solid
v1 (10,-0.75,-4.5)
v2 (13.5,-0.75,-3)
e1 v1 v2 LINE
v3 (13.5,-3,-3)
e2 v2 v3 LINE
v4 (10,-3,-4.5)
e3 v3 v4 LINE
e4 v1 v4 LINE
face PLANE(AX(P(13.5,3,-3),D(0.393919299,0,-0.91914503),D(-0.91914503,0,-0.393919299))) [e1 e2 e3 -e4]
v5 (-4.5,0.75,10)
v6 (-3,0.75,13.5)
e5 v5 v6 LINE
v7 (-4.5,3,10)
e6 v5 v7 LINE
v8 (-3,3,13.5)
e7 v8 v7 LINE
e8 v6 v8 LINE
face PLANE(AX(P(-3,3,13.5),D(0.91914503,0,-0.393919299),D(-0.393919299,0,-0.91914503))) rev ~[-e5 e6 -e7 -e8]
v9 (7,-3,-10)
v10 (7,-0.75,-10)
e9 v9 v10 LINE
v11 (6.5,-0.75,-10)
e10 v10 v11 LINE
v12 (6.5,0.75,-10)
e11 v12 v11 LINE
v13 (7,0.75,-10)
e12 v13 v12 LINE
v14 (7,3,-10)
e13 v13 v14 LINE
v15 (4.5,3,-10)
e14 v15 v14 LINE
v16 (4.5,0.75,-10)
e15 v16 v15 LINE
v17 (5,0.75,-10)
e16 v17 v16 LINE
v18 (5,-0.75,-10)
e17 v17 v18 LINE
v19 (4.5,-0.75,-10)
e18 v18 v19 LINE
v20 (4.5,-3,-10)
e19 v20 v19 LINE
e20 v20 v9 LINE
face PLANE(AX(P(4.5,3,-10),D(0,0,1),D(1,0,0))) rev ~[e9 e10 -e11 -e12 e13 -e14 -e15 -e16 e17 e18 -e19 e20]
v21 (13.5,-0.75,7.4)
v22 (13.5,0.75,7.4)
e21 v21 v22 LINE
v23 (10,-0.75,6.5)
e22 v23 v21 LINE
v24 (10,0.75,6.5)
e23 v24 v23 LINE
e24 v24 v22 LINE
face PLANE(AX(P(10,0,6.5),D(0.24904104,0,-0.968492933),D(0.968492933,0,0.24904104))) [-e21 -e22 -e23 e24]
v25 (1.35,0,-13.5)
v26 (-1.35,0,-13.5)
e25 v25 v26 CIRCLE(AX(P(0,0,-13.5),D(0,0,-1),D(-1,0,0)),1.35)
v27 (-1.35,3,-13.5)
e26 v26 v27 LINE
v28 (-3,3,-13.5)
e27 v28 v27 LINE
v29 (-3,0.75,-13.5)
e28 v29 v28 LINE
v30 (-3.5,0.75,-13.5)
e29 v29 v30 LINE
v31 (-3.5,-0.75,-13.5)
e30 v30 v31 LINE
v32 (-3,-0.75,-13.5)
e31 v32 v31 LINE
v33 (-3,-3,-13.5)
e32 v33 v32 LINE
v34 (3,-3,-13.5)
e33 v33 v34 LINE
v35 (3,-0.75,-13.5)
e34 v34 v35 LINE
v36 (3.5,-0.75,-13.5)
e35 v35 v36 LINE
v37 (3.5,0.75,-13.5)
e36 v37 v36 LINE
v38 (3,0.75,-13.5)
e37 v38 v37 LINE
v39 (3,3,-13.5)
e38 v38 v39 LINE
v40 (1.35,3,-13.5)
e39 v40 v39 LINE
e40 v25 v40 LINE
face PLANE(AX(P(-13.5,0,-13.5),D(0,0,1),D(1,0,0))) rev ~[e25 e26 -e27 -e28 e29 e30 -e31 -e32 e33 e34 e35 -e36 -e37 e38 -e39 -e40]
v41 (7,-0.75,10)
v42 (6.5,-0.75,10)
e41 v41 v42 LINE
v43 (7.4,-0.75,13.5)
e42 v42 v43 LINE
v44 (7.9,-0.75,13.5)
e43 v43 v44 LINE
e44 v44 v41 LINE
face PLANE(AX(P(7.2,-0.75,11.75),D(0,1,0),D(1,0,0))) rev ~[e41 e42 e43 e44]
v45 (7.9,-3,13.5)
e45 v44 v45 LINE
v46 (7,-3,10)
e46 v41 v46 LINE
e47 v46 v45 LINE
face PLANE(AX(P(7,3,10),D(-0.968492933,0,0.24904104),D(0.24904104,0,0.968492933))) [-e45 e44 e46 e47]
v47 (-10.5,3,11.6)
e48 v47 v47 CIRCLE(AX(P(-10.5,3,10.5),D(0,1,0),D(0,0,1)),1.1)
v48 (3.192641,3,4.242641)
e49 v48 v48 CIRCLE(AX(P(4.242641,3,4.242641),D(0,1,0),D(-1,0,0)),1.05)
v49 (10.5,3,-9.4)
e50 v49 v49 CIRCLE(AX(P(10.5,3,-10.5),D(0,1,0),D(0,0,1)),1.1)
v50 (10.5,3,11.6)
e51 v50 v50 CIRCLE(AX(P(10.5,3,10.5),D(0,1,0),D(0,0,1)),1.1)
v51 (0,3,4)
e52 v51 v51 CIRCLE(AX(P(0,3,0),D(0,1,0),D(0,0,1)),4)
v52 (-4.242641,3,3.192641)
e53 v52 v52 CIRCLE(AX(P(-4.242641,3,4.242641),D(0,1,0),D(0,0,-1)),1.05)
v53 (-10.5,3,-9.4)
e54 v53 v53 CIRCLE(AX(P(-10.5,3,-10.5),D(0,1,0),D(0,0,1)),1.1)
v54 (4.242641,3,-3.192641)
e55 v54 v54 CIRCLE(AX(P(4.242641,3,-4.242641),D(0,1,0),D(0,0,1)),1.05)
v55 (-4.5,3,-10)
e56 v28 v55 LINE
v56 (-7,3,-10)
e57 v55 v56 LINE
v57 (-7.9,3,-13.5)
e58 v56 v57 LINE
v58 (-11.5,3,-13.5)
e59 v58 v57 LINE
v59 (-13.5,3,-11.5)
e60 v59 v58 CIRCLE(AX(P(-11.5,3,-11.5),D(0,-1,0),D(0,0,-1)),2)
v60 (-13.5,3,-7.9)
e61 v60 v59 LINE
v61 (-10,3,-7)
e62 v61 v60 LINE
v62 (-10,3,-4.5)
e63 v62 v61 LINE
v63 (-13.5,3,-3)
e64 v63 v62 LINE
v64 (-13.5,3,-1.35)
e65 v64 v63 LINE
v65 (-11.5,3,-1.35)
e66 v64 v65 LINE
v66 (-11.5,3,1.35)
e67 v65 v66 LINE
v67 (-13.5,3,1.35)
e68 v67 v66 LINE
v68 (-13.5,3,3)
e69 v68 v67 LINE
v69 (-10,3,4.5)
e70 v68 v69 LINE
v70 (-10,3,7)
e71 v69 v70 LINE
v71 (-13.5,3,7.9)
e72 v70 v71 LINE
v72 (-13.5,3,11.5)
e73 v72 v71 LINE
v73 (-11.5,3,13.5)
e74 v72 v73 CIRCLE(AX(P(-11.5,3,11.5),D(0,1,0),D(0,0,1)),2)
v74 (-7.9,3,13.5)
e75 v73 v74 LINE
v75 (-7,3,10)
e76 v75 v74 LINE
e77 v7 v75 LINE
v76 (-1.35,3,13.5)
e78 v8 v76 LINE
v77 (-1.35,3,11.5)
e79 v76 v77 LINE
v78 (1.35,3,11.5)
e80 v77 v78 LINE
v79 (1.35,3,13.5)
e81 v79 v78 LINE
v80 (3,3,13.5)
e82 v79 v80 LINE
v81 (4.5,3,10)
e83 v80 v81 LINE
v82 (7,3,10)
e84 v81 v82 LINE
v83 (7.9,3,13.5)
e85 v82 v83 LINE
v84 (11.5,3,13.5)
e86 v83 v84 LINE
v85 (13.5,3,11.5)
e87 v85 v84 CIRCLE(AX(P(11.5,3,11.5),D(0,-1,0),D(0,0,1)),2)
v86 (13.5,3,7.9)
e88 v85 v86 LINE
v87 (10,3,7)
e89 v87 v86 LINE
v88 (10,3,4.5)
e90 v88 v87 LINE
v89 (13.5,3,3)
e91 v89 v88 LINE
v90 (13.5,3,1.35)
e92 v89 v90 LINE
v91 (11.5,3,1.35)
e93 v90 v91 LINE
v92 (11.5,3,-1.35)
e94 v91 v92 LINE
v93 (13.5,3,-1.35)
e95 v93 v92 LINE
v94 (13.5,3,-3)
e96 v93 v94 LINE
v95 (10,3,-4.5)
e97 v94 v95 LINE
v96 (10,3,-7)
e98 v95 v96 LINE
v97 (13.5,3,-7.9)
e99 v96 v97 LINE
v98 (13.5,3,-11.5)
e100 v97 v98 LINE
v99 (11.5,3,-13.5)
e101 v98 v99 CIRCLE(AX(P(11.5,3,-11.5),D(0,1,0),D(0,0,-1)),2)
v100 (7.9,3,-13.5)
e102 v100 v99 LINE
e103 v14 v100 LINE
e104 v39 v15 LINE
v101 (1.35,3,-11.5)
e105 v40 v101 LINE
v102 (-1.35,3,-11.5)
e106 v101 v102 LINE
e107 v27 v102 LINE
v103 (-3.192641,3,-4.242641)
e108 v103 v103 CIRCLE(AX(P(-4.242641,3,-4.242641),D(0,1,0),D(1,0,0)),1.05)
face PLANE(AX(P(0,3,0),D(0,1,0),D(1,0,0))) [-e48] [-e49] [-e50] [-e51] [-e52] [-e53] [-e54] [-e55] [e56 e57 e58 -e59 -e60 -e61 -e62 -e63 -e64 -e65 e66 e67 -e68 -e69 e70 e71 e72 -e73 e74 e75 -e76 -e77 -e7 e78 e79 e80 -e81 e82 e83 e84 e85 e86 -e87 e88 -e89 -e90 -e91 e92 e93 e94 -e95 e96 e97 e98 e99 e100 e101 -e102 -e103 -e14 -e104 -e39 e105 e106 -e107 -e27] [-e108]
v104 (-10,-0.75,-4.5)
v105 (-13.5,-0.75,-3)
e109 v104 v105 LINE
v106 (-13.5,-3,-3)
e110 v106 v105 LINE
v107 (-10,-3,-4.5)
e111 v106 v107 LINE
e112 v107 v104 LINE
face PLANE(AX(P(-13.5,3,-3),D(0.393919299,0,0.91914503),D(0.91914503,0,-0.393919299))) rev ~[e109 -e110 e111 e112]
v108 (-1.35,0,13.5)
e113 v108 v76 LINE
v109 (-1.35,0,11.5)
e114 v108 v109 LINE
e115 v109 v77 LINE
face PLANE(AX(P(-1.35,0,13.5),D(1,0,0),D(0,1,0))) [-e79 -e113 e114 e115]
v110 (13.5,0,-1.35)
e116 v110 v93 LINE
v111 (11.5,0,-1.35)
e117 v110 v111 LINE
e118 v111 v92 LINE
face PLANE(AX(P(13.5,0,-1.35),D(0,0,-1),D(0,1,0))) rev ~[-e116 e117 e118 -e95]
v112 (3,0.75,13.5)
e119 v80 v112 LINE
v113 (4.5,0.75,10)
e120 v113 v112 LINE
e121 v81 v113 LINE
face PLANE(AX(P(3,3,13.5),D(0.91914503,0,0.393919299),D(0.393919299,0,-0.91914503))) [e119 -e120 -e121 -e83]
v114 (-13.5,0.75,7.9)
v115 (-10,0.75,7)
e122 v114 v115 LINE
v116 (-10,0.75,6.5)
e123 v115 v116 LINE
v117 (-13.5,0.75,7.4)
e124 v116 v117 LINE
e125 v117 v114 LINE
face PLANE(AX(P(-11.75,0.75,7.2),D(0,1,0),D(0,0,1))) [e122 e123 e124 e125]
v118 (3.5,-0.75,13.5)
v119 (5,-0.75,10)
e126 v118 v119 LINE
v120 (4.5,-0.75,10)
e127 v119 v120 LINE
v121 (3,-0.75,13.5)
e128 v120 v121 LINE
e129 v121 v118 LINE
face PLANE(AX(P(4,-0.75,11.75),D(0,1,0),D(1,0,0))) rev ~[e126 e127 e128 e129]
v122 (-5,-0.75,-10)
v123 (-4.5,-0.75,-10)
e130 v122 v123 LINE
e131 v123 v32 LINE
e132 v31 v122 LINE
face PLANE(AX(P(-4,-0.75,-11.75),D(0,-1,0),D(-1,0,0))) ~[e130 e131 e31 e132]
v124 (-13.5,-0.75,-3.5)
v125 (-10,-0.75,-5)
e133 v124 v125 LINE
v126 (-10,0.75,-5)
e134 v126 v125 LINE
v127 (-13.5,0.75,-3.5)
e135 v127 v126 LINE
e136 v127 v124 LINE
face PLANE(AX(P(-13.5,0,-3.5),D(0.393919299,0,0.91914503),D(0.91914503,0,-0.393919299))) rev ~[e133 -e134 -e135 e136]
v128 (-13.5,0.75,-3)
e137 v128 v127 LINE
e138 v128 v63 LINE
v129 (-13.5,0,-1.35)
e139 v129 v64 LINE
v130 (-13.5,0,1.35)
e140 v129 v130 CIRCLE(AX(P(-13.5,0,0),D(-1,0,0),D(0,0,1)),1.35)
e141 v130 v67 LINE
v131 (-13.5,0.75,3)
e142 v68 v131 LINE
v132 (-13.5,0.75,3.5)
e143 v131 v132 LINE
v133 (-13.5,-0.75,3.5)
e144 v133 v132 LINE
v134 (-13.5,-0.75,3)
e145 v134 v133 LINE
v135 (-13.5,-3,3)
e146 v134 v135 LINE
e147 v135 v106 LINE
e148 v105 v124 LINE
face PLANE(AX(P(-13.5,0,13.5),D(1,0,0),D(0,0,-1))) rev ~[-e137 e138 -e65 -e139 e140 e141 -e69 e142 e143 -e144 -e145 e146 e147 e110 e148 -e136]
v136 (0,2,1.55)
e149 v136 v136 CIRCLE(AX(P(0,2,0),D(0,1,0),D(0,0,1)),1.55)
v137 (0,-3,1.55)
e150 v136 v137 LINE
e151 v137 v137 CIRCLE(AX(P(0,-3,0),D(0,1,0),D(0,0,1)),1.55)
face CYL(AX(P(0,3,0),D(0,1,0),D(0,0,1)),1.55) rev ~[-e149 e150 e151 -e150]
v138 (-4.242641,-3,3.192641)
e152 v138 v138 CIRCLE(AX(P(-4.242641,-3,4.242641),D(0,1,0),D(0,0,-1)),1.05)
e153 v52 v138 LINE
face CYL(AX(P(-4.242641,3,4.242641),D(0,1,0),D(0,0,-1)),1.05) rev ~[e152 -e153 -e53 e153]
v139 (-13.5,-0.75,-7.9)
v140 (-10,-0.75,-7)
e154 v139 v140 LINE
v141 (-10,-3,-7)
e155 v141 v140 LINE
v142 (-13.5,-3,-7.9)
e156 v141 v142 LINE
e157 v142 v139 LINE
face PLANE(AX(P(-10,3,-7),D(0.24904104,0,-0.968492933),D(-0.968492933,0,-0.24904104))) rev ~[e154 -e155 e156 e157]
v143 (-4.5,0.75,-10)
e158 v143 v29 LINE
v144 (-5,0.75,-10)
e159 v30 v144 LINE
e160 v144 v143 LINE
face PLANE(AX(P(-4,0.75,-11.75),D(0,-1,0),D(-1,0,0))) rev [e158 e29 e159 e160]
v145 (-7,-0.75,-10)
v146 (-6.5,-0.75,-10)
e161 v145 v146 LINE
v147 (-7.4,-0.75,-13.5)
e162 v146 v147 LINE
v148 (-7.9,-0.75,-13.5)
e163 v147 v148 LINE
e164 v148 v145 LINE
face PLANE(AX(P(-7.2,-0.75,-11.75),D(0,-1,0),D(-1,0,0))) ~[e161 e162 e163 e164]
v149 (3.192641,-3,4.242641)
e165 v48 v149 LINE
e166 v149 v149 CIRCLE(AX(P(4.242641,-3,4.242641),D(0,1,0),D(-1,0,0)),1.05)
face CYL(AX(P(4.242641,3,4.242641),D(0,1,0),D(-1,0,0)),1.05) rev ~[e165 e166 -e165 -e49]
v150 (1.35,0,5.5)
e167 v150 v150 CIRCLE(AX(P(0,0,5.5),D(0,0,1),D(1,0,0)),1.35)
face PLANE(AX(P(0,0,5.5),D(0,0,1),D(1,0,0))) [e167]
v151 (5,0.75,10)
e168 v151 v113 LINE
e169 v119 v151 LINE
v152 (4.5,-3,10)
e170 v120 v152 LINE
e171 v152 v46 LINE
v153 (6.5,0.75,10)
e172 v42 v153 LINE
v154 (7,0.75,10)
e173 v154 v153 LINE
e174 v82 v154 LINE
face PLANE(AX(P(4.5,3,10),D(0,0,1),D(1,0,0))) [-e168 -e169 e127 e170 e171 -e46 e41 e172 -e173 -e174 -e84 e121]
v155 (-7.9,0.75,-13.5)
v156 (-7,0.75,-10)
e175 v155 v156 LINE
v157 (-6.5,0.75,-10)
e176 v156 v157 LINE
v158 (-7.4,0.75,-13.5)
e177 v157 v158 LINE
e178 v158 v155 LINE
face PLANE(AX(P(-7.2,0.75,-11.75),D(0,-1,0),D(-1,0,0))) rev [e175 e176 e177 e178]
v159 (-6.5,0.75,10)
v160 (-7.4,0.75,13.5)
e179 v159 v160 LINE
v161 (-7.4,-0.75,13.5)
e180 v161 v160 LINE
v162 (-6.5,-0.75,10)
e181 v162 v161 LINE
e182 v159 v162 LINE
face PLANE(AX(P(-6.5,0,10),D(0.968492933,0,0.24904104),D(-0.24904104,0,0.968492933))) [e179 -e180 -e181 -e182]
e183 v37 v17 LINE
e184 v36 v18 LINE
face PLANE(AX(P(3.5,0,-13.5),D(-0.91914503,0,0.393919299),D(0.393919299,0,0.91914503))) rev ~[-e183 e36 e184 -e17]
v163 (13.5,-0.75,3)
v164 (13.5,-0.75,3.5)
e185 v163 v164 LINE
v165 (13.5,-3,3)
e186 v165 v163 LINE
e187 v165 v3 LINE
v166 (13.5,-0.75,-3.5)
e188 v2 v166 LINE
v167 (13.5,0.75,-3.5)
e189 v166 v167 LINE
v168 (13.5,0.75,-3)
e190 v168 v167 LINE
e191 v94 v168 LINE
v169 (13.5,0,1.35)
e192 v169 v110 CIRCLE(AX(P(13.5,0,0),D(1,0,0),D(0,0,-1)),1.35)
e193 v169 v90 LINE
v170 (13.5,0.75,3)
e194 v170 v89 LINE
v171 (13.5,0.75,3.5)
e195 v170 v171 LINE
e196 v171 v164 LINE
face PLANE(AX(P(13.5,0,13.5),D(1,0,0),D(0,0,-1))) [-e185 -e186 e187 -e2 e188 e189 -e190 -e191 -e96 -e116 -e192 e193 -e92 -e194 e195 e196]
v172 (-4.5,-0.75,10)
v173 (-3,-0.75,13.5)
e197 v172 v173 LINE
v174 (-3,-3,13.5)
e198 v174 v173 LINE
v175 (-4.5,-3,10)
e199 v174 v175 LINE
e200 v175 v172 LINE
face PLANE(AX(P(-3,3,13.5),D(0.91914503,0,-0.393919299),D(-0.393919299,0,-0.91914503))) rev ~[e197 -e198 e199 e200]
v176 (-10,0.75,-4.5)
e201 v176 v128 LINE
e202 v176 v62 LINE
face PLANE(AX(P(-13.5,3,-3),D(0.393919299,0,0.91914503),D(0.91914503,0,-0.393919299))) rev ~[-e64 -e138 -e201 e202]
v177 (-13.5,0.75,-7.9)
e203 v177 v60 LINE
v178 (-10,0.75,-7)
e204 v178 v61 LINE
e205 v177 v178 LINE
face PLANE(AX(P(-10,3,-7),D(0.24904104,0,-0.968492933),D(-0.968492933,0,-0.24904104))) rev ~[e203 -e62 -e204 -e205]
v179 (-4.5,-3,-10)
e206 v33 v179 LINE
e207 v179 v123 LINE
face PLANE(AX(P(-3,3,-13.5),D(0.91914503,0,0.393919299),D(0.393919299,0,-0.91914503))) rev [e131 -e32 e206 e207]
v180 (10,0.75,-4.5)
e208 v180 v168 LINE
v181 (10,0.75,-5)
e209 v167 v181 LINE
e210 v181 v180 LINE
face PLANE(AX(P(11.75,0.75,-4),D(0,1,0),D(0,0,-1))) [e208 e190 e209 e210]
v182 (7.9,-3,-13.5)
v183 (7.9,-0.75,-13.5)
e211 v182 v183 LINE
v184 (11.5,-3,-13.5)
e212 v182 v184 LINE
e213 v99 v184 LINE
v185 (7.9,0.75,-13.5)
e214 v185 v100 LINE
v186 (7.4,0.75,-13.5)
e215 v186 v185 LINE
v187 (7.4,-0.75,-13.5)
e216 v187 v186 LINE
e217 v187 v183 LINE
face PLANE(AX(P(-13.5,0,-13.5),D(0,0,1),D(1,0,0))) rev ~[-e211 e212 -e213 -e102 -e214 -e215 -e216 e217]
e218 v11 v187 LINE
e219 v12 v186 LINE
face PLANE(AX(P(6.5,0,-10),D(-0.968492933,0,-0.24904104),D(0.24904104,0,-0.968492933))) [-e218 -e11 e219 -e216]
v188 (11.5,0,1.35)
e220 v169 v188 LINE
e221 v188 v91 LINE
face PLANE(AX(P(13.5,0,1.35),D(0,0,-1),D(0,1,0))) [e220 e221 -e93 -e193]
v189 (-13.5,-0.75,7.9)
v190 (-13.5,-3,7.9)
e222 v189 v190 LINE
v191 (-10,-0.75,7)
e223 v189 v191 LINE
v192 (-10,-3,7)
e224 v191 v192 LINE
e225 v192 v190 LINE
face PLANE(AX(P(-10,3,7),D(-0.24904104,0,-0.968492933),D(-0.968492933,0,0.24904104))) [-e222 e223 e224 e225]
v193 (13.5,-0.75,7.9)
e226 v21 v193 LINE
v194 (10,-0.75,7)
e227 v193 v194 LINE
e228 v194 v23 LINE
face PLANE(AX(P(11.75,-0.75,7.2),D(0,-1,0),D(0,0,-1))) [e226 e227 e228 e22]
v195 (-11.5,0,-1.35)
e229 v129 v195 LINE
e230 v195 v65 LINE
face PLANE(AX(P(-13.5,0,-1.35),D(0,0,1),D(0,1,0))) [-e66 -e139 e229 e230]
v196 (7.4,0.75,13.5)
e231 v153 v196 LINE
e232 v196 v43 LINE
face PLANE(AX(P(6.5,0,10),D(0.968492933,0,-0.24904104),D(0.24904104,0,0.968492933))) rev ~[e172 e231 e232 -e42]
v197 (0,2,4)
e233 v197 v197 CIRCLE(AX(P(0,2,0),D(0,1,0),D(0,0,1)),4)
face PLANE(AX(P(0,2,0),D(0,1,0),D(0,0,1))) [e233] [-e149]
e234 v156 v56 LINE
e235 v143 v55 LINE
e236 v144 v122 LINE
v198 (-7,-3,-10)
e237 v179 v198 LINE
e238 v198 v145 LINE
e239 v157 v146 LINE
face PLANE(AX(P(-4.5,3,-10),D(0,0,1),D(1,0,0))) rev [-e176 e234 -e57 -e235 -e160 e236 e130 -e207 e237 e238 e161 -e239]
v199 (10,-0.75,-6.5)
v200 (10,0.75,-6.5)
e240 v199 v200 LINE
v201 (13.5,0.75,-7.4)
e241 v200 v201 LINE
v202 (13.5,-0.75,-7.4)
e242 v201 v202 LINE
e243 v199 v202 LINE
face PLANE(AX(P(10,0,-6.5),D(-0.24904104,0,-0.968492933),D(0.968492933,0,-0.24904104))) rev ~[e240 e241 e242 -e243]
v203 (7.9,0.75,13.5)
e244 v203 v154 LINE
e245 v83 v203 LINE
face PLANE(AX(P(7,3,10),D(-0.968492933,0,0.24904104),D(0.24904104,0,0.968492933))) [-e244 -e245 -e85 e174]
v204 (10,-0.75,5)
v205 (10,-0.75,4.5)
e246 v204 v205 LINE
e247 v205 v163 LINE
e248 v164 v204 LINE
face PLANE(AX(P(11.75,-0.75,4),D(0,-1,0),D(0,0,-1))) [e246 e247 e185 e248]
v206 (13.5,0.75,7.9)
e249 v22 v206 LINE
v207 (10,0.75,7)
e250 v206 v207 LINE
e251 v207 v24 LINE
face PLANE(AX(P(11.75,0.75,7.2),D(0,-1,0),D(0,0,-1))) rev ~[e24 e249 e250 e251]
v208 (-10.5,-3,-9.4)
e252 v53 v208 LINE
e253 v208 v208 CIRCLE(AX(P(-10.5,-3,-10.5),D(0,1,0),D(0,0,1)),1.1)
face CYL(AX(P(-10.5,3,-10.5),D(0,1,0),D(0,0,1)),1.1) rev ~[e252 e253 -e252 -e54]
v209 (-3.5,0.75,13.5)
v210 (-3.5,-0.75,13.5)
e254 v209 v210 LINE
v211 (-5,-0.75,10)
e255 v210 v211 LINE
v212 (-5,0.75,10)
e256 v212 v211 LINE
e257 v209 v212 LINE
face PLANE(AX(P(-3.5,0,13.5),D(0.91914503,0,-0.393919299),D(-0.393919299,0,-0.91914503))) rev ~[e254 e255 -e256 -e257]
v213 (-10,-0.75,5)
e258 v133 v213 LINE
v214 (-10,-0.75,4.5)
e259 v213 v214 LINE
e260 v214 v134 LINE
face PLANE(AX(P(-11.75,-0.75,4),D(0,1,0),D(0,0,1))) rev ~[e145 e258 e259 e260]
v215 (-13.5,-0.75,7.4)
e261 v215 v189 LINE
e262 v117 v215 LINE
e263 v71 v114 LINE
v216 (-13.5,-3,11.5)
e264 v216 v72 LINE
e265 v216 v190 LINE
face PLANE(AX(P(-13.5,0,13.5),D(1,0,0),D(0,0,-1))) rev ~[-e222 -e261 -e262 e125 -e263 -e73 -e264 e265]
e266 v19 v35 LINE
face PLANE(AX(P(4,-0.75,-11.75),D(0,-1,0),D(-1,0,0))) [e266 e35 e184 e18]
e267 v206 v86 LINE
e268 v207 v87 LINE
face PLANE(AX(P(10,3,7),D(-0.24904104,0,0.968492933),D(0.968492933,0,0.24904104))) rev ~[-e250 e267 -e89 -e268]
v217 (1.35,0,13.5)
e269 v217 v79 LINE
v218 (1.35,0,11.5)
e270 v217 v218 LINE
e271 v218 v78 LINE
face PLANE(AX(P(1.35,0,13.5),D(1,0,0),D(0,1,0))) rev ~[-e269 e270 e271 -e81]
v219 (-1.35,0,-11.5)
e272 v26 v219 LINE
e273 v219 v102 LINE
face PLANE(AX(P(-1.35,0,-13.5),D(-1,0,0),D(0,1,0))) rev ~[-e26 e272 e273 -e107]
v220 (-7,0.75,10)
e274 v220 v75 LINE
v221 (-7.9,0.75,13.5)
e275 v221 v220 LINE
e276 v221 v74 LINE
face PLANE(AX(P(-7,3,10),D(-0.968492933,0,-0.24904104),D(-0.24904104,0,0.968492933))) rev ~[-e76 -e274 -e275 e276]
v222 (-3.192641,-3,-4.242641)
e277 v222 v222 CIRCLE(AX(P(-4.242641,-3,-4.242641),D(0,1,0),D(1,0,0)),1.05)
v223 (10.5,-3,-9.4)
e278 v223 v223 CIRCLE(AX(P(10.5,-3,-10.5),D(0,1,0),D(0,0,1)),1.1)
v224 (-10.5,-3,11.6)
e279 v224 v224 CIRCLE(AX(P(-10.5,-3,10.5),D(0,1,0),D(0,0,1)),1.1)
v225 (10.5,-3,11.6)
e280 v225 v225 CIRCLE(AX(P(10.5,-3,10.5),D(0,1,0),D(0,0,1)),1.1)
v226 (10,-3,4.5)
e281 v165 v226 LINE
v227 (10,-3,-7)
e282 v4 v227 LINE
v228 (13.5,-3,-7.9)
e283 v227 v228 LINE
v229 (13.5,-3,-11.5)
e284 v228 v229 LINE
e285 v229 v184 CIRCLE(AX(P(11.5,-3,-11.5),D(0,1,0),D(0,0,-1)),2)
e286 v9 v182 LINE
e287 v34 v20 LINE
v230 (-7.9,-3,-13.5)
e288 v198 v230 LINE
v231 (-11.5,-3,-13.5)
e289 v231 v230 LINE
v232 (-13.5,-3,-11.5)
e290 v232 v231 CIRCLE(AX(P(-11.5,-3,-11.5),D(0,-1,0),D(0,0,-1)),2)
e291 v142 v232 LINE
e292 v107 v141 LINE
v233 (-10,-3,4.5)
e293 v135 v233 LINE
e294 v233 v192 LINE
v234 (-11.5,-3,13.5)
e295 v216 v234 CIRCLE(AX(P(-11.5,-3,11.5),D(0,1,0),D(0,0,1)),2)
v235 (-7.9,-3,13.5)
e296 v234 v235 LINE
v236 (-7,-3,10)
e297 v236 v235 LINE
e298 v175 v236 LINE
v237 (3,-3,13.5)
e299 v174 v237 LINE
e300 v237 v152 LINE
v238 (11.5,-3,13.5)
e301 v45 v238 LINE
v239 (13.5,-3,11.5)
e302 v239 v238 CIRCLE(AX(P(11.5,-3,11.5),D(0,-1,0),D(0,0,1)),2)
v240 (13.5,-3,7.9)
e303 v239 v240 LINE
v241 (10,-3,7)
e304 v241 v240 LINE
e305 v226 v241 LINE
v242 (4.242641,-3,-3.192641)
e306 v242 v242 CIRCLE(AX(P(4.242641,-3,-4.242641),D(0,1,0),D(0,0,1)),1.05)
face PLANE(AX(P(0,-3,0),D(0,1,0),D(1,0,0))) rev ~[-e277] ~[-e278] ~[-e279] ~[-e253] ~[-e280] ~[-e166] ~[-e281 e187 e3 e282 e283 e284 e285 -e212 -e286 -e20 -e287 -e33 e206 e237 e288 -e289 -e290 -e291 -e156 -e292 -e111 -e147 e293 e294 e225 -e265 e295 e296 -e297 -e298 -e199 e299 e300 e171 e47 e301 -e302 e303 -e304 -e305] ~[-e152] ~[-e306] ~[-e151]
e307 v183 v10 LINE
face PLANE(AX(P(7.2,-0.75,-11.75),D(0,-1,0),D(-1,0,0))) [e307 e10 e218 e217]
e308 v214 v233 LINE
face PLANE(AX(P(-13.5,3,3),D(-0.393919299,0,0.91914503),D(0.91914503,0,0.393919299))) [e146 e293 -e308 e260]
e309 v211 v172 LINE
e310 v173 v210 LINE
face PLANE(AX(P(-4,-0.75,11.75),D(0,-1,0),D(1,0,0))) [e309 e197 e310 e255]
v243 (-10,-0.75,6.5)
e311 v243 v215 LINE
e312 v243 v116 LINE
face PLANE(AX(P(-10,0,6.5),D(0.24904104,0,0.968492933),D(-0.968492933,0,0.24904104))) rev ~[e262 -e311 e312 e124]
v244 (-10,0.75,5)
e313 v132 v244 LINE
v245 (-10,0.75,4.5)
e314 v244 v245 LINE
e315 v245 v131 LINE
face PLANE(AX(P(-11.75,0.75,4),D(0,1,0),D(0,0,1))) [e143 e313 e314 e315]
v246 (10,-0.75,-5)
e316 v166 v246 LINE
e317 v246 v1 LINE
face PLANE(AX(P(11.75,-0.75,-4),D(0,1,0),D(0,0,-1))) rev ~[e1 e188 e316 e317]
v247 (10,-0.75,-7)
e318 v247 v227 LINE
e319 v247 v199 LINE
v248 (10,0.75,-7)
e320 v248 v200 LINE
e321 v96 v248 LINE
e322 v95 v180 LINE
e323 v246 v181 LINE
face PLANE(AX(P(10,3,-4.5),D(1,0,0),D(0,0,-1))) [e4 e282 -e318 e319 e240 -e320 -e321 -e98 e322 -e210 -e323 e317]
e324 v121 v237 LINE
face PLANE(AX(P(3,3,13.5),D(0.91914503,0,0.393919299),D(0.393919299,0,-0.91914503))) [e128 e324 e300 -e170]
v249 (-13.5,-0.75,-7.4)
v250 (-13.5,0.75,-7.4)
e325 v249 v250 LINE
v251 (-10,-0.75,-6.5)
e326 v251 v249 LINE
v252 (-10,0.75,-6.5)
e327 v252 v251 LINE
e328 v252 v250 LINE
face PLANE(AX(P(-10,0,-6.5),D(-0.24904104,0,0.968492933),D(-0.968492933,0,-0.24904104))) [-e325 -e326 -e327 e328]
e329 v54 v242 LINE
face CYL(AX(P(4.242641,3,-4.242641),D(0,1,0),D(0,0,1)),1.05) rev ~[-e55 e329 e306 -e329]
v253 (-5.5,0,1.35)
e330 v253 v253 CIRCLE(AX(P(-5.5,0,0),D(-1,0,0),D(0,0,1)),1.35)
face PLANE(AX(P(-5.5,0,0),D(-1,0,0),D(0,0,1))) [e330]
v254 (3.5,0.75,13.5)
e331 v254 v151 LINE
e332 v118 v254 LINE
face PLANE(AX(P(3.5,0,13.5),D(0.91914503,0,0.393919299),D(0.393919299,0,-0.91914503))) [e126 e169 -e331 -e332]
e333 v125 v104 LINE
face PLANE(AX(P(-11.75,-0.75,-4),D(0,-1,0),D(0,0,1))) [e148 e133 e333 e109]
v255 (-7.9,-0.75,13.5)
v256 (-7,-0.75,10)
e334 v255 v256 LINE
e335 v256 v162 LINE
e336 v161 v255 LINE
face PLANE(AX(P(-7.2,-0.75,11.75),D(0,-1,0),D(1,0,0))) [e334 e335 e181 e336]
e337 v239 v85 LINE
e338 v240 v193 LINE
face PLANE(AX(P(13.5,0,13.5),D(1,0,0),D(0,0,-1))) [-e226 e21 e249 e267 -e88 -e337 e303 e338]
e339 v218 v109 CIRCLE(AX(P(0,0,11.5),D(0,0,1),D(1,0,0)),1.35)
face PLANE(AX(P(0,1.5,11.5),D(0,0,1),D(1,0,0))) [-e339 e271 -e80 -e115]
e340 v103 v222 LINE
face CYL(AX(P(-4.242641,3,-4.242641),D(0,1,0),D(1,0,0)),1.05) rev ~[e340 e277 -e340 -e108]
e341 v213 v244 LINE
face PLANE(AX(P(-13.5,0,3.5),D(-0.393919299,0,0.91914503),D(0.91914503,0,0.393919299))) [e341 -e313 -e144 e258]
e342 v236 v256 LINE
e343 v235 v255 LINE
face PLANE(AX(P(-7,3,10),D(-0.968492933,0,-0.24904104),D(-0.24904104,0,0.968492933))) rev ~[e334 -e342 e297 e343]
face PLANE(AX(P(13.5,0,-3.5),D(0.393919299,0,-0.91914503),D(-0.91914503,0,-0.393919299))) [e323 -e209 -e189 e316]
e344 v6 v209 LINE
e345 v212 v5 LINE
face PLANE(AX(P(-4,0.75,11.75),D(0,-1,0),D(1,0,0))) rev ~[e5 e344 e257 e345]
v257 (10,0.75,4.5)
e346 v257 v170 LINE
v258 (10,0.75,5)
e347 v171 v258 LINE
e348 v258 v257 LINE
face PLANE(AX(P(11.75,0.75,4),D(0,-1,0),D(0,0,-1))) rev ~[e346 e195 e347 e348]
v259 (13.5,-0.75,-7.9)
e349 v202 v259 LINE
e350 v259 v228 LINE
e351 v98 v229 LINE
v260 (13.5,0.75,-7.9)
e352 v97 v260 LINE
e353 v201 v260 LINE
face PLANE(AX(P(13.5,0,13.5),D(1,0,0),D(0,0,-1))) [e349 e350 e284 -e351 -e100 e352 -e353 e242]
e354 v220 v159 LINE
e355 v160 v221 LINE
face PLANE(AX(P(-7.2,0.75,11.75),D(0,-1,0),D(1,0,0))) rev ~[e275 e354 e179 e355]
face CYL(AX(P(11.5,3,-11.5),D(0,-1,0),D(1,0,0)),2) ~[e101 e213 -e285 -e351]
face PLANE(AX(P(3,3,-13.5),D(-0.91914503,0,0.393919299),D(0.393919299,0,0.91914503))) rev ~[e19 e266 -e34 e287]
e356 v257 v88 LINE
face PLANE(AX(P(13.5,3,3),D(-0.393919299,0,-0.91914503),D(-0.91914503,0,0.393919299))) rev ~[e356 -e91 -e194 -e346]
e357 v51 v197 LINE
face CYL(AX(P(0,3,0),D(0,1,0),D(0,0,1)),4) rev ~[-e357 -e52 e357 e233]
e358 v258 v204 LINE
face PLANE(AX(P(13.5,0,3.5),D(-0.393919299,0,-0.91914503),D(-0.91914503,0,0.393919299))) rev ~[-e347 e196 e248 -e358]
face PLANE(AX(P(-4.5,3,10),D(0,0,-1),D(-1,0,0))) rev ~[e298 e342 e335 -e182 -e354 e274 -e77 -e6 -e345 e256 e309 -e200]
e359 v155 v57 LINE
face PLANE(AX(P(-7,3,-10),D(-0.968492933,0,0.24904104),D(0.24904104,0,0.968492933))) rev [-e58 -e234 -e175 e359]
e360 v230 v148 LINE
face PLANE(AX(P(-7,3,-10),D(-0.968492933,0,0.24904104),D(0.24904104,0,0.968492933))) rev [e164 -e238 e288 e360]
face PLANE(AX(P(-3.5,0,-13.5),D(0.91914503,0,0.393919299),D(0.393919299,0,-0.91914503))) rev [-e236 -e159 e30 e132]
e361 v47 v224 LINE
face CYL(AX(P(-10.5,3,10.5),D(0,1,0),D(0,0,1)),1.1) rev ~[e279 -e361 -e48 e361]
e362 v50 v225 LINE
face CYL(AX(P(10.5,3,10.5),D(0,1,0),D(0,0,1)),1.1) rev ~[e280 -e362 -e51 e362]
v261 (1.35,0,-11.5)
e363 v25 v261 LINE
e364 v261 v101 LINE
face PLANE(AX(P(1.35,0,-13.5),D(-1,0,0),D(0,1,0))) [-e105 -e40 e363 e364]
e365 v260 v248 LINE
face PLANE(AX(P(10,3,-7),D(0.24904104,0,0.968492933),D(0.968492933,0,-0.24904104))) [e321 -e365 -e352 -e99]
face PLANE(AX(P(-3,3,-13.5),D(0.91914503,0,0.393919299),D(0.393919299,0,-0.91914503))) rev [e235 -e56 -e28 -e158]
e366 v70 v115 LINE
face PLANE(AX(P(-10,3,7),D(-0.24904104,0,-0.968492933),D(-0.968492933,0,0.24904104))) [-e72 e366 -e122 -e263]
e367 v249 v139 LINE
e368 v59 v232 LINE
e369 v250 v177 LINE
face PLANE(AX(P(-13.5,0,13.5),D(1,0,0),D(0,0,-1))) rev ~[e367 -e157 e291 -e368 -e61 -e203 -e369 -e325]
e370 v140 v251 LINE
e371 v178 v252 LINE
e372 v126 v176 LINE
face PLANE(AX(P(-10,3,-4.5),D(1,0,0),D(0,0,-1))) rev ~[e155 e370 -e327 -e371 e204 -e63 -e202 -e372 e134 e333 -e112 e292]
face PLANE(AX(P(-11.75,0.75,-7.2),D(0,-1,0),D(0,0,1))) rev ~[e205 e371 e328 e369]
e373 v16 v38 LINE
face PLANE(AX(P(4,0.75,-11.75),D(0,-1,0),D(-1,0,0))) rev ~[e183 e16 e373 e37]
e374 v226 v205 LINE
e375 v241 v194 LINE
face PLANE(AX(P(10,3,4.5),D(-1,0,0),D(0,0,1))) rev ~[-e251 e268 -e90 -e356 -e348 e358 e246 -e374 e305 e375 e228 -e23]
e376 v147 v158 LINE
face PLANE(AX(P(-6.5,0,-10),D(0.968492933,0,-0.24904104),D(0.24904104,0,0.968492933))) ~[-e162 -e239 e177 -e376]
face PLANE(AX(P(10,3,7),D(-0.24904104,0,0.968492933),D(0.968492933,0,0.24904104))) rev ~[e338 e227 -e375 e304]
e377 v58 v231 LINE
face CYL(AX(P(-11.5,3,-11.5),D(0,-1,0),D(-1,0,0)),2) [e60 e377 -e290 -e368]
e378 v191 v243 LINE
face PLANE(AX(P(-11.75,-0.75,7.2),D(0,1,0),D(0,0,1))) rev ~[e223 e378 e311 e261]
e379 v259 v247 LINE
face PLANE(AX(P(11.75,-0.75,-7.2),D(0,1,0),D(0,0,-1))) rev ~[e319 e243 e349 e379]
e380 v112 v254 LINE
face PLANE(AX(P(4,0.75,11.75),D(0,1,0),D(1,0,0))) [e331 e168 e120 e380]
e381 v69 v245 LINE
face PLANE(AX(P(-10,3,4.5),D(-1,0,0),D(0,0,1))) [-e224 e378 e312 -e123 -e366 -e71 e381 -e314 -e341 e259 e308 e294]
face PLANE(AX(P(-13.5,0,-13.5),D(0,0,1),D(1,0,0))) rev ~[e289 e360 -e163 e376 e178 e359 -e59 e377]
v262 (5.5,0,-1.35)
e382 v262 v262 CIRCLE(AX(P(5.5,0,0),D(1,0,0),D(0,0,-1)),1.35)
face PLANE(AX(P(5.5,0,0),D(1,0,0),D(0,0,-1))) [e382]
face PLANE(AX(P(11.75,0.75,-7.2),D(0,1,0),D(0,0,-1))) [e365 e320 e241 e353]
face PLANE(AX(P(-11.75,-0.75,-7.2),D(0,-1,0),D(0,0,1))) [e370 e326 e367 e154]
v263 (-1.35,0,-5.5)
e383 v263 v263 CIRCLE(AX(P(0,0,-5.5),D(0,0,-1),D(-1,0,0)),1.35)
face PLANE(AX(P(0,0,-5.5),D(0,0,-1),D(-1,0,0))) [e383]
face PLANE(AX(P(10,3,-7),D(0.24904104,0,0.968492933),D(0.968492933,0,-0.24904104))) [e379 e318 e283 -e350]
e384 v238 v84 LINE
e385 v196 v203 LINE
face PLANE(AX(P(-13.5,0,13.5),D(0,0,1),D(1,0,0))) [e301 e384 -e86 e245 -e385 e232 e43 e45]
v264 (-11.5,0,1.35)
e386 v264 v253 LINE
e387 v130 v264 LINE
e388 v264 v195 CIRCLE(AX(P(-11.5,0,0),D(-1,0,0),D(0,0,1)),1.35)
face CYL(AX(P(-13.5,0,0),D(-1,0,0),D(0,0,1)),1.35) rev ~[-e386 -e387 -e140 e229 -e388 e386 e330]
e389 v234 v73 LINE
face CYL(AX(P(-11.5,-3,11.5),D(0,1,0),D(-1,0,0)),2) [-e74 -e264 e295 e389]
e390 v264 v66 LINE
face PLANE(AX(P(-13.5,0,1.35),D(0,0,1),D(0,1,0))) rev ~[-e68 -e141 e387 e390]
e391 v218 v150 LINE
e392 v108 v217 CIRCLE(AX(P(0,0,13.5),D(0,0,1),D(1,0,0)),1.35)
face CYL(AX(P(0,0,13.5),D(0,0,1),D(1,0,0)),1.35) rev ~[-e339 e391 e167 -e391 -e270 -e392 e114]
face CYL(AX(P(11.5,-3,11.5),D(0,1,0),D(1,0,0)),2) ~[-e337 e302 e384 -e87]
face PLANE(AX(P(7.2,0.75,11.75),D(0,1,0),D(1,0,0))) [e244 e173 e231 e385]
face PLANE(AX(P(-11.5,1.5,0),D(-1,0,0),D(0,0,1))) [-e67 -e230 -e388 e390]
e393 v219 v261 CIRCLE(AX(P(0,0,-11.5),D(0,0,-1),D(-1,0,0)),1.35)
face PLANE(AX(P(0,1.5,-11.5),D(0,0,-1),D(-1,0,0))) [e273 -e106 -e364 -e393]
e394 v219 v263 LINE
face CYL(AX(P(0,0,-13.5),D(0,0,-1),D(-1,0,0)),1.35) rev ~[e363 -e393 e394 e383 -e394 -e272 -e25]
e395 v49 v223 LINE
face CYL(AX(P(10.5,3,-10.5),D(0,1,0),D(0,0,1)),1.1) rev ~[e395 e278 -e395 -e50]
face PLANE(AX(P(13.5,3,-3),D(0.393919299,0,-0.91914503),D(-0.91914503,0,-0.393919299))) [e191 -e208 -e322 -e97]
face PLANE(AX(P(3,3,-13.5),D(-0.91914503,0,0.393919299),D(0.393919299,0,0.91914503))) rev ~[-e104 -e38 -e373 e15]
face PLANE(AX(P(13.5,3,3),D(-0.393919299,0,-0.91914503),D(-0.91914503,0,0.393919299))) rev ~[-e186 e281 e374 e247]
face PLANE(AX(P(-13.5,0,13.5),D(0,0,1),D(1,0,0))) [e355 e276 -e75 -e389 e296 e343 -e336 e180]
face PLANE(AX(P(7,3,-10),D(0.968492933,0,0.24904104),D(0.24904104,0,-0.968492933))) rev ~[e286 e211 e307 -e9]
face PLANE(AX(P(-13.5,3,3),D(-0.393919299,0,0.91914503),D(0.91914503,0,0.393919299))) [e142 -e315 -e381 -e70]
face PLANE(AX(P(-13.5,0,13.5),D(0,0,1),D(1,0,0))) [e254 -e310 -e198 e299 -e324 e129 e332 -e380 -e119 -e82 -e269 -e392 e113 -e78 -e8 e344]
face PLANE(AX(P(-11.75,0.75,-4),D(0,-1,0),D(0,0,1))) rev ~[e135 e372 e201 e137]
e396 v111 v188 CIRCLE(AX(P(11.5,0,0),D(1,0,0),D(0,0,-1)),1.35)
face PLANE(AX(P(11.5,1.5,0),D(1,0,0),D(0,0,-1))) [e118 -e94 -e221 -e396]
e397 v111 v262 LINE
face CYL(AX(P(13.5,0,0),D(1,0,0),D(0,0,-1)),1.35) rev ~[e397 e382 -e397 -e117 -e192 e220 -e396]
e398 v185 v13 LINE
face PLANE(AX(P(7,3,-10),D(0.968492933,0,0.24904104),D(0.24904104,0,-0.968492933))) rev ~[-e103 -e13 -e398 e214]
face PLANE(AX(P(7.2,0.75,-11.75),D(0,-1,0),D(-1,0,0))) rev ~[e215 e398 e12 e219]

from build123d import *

# Parameters (mm, degrees)
SKETCH_3_W                      = 27
SKETCH_3_H                      = 27
EXTRUDE_1_DEPTH                 = 3
FILLET_1_R                      = 2
SKETCH_4_R                      = 1.1
CUT_EXTRUDE_1_DEPTH             = 6
SKETCH_5_R                      = 1.55
CUT_EXTRUDE_2_DEPTH             = 6
SKETCH_6_R                      = 1.05
CUT_EXTRUDE_3_DEPTH             = 6
PATTERN_CIRCULAR_1_COUNT        = 4
SKETCH_7_R                      = 4
CUT_EXTRUDE_4_DEPTH             = 1
CUT_EXTRUDE_8_DEPTH             = 21.012496096
PATTERN_CIRCULAR_2_COUNT        = 4
PATTERN_CIRCULAR_2_COPY_1_DEPTH = 21.012496096
PATTERN_CIRCULAR_2_COPY_2_DEPTH = 21.012496096
PATTERN_CIRCULAR_2_COPY_3_DEPTH = 21.012496096
SKETCH_12_R                     = 1.35
CUT_EXTRUDE_9_DEPTH             = 8
PATTERN_CIRCULAR_3_COUNT        = 4
EXTRUDE_2_DEPTH                 = 0.75
PATTERN_CIRCULAR_4_COUNT        = 4
PATTERN_CIRCULAR_4_COPY_1_DEPTH = 0.75
PATTERN_CIRCULAR_4_COPY_2_DEPTH = 0.75
PATTERN_CIRCULAR_4_COPY_3_DEPTH = 0.75
SKETCH_22_W                     = 2.7
SKETCH_22_H                     = 3
CUT_EXTRUDE_15_DEPTH            = 2
PATTERN_CIRCULAR_11_COUNT       = 4


with BuildPart() as part:
    # ｽｹｯﾁ3 → ﾎﾞｽ - 押し出し1 (new, symmetric)
    with BuildSketch(Plane(origin=(0, 0, 0), x_dir=(1, 0, 0), z_dir=(0, 1, 0))):
        Rectangle(SKETCH_3_W, SKETCH_3_H)
    extrude(amount=EXTRUDE_1_DEPTH, both=True)

    # ﾌｨﾚｯﾄ1
    fillet_1_edges = [part.edges().sort_by_distance(p)[0] for p in [
        (13.5, 0, 13.5),
        (-13.5, 0, 13.5),
        (-13.5, 0, -13.5),
        (13.5, 0, -13.5),
    ]]
    fillet(fillet_1_edges, radius=FILLET_1_R)

    # ｽｹｯﾁ4 → ｶｯﾄ - 押し出し1 (cut)
    with BuildSketch(Plane(origin=(0, 3, 0), x_dir=(1, 0, 0), z_dir=(0, 1, 0))):
        with Locations(Location((-10.5, 10.5, 0), (0, 0, 270))):
            Circle(SKETCH_4_R)
        with Locations(Location((10.5, 10.5, 0), (0, 0, 270))):
            Circle(SKETCH_4_R)
        with Locations(Location((-10.5, -10.5, 0), (0, 0, 270))):
            Circle(SKETCH_4_R)
        with Locations(Location((10.5, -10.5, 0), (0, 0, 270))):
            Circle(SKETCH_4_R)
    extrude(amount=-CUT_EXTRUDE_1_DEPTH, mode=Mode.SUBTRACT)

    # ｽｹｯﾁ5 → ｶｯﾄ - 押し出し2 (cut)
    with BuildSketch(Plane(origin=(0, 3, 0), x_dir=(1, 0, 0), z_dir=(0, 1, 0))):
        with Locations(Location((0, 0, 0), (0, 0, 270))):
            Circle(SKETCH_5_R)
    extrude(amount=-CUT_EXTRUDE_2_DEPTH, mode=Mode.SUBTRACT)

    # ｽｹｯﾁ6 → ｶｯﾄ - 押し出し3 (cut)
    with BuildSketch(Plane(origin=(0, 3, 0), x_dir=(1, 0, 0), z_dir=(0, 1, 0))):
        with Locations(Location((4.242640687, 4.242640687, 0), (0, 0, 270))):
            Circle(SKETCH_6_R)
    cut_extrude_3 = extrude(amount=-CUT_EXTRUDE_3_DEPTH, mode=Mode.SUBTRACT)

    # 円形ﾊﾟﾀｰﾝ1: ｶｯﾄ - 押し出し3 ×4 about axis
    pattern_circular_1_axis = Axis((0, 0, 0), (0, 1, 0))
    for i in range(1, PATTERN_CIRCULAR_1_COUNT):
        add(cut_extrude_3.rotate(pattern_circular_1_axis, i * 360 / PATTERN_CIRCULAR_1_COUNT), mode=Mode.SUBTRACT)

    # ｽｹｯﾁ7 → ｶｯﾄ - 押し出し4 (cut)
    with BuildSketch(Plane(origin=(0, 3, 0), x_dir=(1, 0, 0), z_dir=(0, 1, 0))):
        with Locations(Location((0, 0, 0), (0, 0, 270))):
            Circle(SKETCH_7_R)
    extrude(amount=-CUT_EXTRUDE_4_DEPTH, mode=Mode.SUBTRACT)

    # ｽｹｯﾁ11 → ｶｯﾄ - 押し出し8 (cut, symmetric)
    with BuildSketch(Plane(origin=(0, 3, 0), x_dir=(1, 0, 0), z_dir=(0, 1, 0))):
        Polygon((-28.082033535, 86.024744916), (3, 13.5), (4.5, 10), (7, 10), (7.9, 13.5), (27.55047658, 89.918520033), (16.532211377, 247.342544779), (-39.100298738, 243.448769662), align=None)
    cut_extrude_8 = extrude(amount=CUT_EXTRUDE_8_DEPTH, both=True, mode=Mode.SUBTRACT)

    # ﾐﾗｰ1: ｶｯﾄ - 押し出し8 across plane
    add(cut_extrude_8.mirror(Plane(origin=(0, 0, 0), x_dir=(0, 0, 1), z_dir=(1, 0, 0))), mode=Mode.SUBTRACT)

    # 円形ﾊﾟﾀｰﾝ2: ｶｯﾄ - 押し出し8 ×4 about axis
    pattern_circular_2_axis = Axis((0, 0, 0), (0, 1, 0))
    for i in range(1, PATTERN_CIRCULAR_2_COUNT):
        add(cut_extrude_8.rotate(pattern_circular_2_axis, i * 360 / PATTERN_CIRCULAR_2_COUNT), mode=Mode.SUBTRACT)

    # 円形ﾊﾟﾀｰﾝ2 copy 1 sketch → 円形ﾊﾟﾀｰﾝ2 copy 1 (cut, symmetric)
    with BuildSketch(Plane.ZX.offset(3)):
        Polygon((-28.082033535, -86.024744916), (3, -13.5), (4.5, -10), (7, -10), (7.9, -13.5), (27.55047658, -89.918520033), (16.532211377, -247.342544779), (-39.100298738, -243.448769662), align=None)
    extrude(amount=PATTERN_CIRCULAR_2_COPY_1_DEPTH, both=True, mode=Mode.SUBTRACT)

    # 円形ﾊﾟﾀｰﾝ2 copy 2 sketch → 円形ﾊﾟﾀｰﾝ2 copy 2 (cut, symmetric)
    with BuildSketch(Plane(origin=(0, 3, 0), x_dir=(1, 0, 0), z_dir=(0, 1, 0))):
        Polygon((-28.082033535, -86.024744916), (3, -13.5), (4.5, -10), (7, -10), (7.9, -13.5), (27.55047658, -89.918520033), (16.532211377, -247.342544779), (-39.100298738, -243.448769662), align=None)
    extrude(amount=PATTERN_CIRCULAR_2_COPY_2_DEPTH, both=True, mode=Mode.SUBTRACT)

    # 円形ﾊﾟﾀｰﾝ2 copy 3 sketch → 円形ﾊﾟﾀｰﾝ2 copy 3 (cut, symmetric)
    with BuildSketch(Plane(origin=(0, 3, 0), x_dir=(0, 0, -1), z_dir=(0, 1, 0))):
        Polygon((-28.082033535, -86.024744916), (3, -13.5), (4.5, -10), (7, -10), (7.9, -13.5), (27.55047658, -89.918520033), (16.532211377, -247.342544779), (-39.100298738, -243.448769662), align=None)
    extrude(amount=PATTERN_CIRCULAR_2_COPY_3_DEPTH, both=True, mode=Mode.SUBTRACT)

    # ｽｹｯﾁ12 → ｶｯﾄ - 押し出し9 (cut)
    with BuildSketch(Plane.XY.offset(13.5)):
        Circle(SKETCH_12_R)
    cut_extrude_9 = extrude(amount=-CUT_EXTRUDE_9_DEPTH, mode=Mode.SUBTRACT)

    # 円形ﾊﾟﾀｰﾝ3: ｶｯﾄ - 押し出し9 ×4 about axis
    pattern_circular_3_axis = Axis((0, 0, 0), (0, 1, 0))
    for i in range(1, PATTERN_CIRCULAR_3_COUNT):
        add(cut_extrude_9.rotate(pattern_circular_3_axis, i * 360 / PATTERN_CIRCULAR_3_COUNT), mode=Mode.SUBTRACT)

    # ｽｹｯﾁ13 → ﾎﾞｽ - 押し出し2 (add, symmetric)
    with BuildSketch(Plane(origin=(0, 0, 0), x_dir=(1, 0, 0), z_dir=(0, 1, 0))):
        Polygon((7.9, 13.5), (7, 10), (6.5, 10), (7.4, 13.5), align=None)
        Polygon((3, 13.5), (3.5, 13.5), (5, 10), (4.5, 10), align=None)
    extrude_2 = extrude(amount=EXTRUDE_2_DEPTH, both=True)

    # ﾐﾗｰ2: ﾎﾞｽ - 押し出し2 across plane
    add(extrude_2.mirror(Plane(origin=(0, 0, 0), x_dir=(0, 0, 1), z_dir=(1, 0, 0))))

    # 円形ﾊﾟﾀｰﾝ4: ﾎﾞｽ - 押し出し2 ×4 about axis
    pattern_circular_4_axis = Axis((0, 0, 0), (0, 1, 0))
    for i in range(1, PATTERN_CIRCULAR_4_COUNT):
        add(extrude_2.rotate(pattern_circular_4_axis, i * 360 / PATTERN_CIRCULAR_4_COUNT))

    # 円形ﾊﾟﾀｰﾝ4 copy 1 sketch → 円形ﾊﾟﾀｰﾝ4 copy 1 (add, symmetric)
    with BuildSketch(Plane.ZX):
        Polygon((7.9, -13.5), (7, -10), (6.5, -10), (7.4, -13.5), align=None)
        Polygon((3, -13.5), (3.5, -13.5), (5, -10), (4.5, -10), align=None)
    extrude(amount=PATTERN_CIRCULAR_4_COPY_1_DEPTH, both=True)

    # 円形ﾊﾟﾀｰﾝ4 copy 2 sketch → 円形ﾊﾟﾀｰﾝ4 copy 2 (add, symmetric)
    with BuildSketch(Plane(origin=(0, 0, 0), x_dir=(1, 0, 0), z_dir=(0, 1, 0))):
        Polygon((7.9, -13.5), (7, -10), (6.5, -10), (7.4, -13.5), align=None)
        Polygon((3, -13.5), (3.5, -13.5), (5, -10), (4.5, -10), align=None)
    extrude(amount=PATTERN_CIRCULAR_4_COPY_2_DEPTH, both=True)

    # 円形ﾊﾟﾀｰﾝ4 copy 3 sketch → 円形ﾊﾟﾀｰﾝ4 copy 3 (add, symmetric)
    with BuildSketch(Plane(origin=(0, 0, 0), x_dir=(0, 0, -1), z_dir=(0, 1, 0))):
        Polygon((7.9, -13.5), (7, -10), (6.5, -10), (7.4, -13.5), align=None)
        Polygon((3, -13.5), (3.5, -13.5), (5, -10), (4.5, -10), align=None)
    extrude(amount=PATTERN_CIRCULAR_4_COPY_3_DEPTH, both=True)

    # ｽｹｯﾁ22 → ｶｯﾄ - 押し出し15 (cut)
    with BuildSketch(Plane.XY.offset(13.5)):
        with Locations((0, 1.5)):
            Rectangle(SKETCH_22_W, SKETCH_22_H)
    cut_extrude_15 = extrude(amount=-CUT_EXTRUDE_15_DEPTH, mode=Mode.SUBTRACT)

    # 円形ﾊﾟﾀｰﾝ11: ｶｯﾄ - 押し出し15 ×4 about axis
    pattern_circular_11_axis = Axis((0, 0, 0), (0, 1, 0))
    for i in range(1, PATTERN_CIRCULAR_11_COUNT):
        add(cut_extrude_15.rotate(pattern_circular_11_axis, i * 360 / PATTERN_CIRCULAR_11_COUNT), mode=Mode.SUBTRACT)


solid = part.part
